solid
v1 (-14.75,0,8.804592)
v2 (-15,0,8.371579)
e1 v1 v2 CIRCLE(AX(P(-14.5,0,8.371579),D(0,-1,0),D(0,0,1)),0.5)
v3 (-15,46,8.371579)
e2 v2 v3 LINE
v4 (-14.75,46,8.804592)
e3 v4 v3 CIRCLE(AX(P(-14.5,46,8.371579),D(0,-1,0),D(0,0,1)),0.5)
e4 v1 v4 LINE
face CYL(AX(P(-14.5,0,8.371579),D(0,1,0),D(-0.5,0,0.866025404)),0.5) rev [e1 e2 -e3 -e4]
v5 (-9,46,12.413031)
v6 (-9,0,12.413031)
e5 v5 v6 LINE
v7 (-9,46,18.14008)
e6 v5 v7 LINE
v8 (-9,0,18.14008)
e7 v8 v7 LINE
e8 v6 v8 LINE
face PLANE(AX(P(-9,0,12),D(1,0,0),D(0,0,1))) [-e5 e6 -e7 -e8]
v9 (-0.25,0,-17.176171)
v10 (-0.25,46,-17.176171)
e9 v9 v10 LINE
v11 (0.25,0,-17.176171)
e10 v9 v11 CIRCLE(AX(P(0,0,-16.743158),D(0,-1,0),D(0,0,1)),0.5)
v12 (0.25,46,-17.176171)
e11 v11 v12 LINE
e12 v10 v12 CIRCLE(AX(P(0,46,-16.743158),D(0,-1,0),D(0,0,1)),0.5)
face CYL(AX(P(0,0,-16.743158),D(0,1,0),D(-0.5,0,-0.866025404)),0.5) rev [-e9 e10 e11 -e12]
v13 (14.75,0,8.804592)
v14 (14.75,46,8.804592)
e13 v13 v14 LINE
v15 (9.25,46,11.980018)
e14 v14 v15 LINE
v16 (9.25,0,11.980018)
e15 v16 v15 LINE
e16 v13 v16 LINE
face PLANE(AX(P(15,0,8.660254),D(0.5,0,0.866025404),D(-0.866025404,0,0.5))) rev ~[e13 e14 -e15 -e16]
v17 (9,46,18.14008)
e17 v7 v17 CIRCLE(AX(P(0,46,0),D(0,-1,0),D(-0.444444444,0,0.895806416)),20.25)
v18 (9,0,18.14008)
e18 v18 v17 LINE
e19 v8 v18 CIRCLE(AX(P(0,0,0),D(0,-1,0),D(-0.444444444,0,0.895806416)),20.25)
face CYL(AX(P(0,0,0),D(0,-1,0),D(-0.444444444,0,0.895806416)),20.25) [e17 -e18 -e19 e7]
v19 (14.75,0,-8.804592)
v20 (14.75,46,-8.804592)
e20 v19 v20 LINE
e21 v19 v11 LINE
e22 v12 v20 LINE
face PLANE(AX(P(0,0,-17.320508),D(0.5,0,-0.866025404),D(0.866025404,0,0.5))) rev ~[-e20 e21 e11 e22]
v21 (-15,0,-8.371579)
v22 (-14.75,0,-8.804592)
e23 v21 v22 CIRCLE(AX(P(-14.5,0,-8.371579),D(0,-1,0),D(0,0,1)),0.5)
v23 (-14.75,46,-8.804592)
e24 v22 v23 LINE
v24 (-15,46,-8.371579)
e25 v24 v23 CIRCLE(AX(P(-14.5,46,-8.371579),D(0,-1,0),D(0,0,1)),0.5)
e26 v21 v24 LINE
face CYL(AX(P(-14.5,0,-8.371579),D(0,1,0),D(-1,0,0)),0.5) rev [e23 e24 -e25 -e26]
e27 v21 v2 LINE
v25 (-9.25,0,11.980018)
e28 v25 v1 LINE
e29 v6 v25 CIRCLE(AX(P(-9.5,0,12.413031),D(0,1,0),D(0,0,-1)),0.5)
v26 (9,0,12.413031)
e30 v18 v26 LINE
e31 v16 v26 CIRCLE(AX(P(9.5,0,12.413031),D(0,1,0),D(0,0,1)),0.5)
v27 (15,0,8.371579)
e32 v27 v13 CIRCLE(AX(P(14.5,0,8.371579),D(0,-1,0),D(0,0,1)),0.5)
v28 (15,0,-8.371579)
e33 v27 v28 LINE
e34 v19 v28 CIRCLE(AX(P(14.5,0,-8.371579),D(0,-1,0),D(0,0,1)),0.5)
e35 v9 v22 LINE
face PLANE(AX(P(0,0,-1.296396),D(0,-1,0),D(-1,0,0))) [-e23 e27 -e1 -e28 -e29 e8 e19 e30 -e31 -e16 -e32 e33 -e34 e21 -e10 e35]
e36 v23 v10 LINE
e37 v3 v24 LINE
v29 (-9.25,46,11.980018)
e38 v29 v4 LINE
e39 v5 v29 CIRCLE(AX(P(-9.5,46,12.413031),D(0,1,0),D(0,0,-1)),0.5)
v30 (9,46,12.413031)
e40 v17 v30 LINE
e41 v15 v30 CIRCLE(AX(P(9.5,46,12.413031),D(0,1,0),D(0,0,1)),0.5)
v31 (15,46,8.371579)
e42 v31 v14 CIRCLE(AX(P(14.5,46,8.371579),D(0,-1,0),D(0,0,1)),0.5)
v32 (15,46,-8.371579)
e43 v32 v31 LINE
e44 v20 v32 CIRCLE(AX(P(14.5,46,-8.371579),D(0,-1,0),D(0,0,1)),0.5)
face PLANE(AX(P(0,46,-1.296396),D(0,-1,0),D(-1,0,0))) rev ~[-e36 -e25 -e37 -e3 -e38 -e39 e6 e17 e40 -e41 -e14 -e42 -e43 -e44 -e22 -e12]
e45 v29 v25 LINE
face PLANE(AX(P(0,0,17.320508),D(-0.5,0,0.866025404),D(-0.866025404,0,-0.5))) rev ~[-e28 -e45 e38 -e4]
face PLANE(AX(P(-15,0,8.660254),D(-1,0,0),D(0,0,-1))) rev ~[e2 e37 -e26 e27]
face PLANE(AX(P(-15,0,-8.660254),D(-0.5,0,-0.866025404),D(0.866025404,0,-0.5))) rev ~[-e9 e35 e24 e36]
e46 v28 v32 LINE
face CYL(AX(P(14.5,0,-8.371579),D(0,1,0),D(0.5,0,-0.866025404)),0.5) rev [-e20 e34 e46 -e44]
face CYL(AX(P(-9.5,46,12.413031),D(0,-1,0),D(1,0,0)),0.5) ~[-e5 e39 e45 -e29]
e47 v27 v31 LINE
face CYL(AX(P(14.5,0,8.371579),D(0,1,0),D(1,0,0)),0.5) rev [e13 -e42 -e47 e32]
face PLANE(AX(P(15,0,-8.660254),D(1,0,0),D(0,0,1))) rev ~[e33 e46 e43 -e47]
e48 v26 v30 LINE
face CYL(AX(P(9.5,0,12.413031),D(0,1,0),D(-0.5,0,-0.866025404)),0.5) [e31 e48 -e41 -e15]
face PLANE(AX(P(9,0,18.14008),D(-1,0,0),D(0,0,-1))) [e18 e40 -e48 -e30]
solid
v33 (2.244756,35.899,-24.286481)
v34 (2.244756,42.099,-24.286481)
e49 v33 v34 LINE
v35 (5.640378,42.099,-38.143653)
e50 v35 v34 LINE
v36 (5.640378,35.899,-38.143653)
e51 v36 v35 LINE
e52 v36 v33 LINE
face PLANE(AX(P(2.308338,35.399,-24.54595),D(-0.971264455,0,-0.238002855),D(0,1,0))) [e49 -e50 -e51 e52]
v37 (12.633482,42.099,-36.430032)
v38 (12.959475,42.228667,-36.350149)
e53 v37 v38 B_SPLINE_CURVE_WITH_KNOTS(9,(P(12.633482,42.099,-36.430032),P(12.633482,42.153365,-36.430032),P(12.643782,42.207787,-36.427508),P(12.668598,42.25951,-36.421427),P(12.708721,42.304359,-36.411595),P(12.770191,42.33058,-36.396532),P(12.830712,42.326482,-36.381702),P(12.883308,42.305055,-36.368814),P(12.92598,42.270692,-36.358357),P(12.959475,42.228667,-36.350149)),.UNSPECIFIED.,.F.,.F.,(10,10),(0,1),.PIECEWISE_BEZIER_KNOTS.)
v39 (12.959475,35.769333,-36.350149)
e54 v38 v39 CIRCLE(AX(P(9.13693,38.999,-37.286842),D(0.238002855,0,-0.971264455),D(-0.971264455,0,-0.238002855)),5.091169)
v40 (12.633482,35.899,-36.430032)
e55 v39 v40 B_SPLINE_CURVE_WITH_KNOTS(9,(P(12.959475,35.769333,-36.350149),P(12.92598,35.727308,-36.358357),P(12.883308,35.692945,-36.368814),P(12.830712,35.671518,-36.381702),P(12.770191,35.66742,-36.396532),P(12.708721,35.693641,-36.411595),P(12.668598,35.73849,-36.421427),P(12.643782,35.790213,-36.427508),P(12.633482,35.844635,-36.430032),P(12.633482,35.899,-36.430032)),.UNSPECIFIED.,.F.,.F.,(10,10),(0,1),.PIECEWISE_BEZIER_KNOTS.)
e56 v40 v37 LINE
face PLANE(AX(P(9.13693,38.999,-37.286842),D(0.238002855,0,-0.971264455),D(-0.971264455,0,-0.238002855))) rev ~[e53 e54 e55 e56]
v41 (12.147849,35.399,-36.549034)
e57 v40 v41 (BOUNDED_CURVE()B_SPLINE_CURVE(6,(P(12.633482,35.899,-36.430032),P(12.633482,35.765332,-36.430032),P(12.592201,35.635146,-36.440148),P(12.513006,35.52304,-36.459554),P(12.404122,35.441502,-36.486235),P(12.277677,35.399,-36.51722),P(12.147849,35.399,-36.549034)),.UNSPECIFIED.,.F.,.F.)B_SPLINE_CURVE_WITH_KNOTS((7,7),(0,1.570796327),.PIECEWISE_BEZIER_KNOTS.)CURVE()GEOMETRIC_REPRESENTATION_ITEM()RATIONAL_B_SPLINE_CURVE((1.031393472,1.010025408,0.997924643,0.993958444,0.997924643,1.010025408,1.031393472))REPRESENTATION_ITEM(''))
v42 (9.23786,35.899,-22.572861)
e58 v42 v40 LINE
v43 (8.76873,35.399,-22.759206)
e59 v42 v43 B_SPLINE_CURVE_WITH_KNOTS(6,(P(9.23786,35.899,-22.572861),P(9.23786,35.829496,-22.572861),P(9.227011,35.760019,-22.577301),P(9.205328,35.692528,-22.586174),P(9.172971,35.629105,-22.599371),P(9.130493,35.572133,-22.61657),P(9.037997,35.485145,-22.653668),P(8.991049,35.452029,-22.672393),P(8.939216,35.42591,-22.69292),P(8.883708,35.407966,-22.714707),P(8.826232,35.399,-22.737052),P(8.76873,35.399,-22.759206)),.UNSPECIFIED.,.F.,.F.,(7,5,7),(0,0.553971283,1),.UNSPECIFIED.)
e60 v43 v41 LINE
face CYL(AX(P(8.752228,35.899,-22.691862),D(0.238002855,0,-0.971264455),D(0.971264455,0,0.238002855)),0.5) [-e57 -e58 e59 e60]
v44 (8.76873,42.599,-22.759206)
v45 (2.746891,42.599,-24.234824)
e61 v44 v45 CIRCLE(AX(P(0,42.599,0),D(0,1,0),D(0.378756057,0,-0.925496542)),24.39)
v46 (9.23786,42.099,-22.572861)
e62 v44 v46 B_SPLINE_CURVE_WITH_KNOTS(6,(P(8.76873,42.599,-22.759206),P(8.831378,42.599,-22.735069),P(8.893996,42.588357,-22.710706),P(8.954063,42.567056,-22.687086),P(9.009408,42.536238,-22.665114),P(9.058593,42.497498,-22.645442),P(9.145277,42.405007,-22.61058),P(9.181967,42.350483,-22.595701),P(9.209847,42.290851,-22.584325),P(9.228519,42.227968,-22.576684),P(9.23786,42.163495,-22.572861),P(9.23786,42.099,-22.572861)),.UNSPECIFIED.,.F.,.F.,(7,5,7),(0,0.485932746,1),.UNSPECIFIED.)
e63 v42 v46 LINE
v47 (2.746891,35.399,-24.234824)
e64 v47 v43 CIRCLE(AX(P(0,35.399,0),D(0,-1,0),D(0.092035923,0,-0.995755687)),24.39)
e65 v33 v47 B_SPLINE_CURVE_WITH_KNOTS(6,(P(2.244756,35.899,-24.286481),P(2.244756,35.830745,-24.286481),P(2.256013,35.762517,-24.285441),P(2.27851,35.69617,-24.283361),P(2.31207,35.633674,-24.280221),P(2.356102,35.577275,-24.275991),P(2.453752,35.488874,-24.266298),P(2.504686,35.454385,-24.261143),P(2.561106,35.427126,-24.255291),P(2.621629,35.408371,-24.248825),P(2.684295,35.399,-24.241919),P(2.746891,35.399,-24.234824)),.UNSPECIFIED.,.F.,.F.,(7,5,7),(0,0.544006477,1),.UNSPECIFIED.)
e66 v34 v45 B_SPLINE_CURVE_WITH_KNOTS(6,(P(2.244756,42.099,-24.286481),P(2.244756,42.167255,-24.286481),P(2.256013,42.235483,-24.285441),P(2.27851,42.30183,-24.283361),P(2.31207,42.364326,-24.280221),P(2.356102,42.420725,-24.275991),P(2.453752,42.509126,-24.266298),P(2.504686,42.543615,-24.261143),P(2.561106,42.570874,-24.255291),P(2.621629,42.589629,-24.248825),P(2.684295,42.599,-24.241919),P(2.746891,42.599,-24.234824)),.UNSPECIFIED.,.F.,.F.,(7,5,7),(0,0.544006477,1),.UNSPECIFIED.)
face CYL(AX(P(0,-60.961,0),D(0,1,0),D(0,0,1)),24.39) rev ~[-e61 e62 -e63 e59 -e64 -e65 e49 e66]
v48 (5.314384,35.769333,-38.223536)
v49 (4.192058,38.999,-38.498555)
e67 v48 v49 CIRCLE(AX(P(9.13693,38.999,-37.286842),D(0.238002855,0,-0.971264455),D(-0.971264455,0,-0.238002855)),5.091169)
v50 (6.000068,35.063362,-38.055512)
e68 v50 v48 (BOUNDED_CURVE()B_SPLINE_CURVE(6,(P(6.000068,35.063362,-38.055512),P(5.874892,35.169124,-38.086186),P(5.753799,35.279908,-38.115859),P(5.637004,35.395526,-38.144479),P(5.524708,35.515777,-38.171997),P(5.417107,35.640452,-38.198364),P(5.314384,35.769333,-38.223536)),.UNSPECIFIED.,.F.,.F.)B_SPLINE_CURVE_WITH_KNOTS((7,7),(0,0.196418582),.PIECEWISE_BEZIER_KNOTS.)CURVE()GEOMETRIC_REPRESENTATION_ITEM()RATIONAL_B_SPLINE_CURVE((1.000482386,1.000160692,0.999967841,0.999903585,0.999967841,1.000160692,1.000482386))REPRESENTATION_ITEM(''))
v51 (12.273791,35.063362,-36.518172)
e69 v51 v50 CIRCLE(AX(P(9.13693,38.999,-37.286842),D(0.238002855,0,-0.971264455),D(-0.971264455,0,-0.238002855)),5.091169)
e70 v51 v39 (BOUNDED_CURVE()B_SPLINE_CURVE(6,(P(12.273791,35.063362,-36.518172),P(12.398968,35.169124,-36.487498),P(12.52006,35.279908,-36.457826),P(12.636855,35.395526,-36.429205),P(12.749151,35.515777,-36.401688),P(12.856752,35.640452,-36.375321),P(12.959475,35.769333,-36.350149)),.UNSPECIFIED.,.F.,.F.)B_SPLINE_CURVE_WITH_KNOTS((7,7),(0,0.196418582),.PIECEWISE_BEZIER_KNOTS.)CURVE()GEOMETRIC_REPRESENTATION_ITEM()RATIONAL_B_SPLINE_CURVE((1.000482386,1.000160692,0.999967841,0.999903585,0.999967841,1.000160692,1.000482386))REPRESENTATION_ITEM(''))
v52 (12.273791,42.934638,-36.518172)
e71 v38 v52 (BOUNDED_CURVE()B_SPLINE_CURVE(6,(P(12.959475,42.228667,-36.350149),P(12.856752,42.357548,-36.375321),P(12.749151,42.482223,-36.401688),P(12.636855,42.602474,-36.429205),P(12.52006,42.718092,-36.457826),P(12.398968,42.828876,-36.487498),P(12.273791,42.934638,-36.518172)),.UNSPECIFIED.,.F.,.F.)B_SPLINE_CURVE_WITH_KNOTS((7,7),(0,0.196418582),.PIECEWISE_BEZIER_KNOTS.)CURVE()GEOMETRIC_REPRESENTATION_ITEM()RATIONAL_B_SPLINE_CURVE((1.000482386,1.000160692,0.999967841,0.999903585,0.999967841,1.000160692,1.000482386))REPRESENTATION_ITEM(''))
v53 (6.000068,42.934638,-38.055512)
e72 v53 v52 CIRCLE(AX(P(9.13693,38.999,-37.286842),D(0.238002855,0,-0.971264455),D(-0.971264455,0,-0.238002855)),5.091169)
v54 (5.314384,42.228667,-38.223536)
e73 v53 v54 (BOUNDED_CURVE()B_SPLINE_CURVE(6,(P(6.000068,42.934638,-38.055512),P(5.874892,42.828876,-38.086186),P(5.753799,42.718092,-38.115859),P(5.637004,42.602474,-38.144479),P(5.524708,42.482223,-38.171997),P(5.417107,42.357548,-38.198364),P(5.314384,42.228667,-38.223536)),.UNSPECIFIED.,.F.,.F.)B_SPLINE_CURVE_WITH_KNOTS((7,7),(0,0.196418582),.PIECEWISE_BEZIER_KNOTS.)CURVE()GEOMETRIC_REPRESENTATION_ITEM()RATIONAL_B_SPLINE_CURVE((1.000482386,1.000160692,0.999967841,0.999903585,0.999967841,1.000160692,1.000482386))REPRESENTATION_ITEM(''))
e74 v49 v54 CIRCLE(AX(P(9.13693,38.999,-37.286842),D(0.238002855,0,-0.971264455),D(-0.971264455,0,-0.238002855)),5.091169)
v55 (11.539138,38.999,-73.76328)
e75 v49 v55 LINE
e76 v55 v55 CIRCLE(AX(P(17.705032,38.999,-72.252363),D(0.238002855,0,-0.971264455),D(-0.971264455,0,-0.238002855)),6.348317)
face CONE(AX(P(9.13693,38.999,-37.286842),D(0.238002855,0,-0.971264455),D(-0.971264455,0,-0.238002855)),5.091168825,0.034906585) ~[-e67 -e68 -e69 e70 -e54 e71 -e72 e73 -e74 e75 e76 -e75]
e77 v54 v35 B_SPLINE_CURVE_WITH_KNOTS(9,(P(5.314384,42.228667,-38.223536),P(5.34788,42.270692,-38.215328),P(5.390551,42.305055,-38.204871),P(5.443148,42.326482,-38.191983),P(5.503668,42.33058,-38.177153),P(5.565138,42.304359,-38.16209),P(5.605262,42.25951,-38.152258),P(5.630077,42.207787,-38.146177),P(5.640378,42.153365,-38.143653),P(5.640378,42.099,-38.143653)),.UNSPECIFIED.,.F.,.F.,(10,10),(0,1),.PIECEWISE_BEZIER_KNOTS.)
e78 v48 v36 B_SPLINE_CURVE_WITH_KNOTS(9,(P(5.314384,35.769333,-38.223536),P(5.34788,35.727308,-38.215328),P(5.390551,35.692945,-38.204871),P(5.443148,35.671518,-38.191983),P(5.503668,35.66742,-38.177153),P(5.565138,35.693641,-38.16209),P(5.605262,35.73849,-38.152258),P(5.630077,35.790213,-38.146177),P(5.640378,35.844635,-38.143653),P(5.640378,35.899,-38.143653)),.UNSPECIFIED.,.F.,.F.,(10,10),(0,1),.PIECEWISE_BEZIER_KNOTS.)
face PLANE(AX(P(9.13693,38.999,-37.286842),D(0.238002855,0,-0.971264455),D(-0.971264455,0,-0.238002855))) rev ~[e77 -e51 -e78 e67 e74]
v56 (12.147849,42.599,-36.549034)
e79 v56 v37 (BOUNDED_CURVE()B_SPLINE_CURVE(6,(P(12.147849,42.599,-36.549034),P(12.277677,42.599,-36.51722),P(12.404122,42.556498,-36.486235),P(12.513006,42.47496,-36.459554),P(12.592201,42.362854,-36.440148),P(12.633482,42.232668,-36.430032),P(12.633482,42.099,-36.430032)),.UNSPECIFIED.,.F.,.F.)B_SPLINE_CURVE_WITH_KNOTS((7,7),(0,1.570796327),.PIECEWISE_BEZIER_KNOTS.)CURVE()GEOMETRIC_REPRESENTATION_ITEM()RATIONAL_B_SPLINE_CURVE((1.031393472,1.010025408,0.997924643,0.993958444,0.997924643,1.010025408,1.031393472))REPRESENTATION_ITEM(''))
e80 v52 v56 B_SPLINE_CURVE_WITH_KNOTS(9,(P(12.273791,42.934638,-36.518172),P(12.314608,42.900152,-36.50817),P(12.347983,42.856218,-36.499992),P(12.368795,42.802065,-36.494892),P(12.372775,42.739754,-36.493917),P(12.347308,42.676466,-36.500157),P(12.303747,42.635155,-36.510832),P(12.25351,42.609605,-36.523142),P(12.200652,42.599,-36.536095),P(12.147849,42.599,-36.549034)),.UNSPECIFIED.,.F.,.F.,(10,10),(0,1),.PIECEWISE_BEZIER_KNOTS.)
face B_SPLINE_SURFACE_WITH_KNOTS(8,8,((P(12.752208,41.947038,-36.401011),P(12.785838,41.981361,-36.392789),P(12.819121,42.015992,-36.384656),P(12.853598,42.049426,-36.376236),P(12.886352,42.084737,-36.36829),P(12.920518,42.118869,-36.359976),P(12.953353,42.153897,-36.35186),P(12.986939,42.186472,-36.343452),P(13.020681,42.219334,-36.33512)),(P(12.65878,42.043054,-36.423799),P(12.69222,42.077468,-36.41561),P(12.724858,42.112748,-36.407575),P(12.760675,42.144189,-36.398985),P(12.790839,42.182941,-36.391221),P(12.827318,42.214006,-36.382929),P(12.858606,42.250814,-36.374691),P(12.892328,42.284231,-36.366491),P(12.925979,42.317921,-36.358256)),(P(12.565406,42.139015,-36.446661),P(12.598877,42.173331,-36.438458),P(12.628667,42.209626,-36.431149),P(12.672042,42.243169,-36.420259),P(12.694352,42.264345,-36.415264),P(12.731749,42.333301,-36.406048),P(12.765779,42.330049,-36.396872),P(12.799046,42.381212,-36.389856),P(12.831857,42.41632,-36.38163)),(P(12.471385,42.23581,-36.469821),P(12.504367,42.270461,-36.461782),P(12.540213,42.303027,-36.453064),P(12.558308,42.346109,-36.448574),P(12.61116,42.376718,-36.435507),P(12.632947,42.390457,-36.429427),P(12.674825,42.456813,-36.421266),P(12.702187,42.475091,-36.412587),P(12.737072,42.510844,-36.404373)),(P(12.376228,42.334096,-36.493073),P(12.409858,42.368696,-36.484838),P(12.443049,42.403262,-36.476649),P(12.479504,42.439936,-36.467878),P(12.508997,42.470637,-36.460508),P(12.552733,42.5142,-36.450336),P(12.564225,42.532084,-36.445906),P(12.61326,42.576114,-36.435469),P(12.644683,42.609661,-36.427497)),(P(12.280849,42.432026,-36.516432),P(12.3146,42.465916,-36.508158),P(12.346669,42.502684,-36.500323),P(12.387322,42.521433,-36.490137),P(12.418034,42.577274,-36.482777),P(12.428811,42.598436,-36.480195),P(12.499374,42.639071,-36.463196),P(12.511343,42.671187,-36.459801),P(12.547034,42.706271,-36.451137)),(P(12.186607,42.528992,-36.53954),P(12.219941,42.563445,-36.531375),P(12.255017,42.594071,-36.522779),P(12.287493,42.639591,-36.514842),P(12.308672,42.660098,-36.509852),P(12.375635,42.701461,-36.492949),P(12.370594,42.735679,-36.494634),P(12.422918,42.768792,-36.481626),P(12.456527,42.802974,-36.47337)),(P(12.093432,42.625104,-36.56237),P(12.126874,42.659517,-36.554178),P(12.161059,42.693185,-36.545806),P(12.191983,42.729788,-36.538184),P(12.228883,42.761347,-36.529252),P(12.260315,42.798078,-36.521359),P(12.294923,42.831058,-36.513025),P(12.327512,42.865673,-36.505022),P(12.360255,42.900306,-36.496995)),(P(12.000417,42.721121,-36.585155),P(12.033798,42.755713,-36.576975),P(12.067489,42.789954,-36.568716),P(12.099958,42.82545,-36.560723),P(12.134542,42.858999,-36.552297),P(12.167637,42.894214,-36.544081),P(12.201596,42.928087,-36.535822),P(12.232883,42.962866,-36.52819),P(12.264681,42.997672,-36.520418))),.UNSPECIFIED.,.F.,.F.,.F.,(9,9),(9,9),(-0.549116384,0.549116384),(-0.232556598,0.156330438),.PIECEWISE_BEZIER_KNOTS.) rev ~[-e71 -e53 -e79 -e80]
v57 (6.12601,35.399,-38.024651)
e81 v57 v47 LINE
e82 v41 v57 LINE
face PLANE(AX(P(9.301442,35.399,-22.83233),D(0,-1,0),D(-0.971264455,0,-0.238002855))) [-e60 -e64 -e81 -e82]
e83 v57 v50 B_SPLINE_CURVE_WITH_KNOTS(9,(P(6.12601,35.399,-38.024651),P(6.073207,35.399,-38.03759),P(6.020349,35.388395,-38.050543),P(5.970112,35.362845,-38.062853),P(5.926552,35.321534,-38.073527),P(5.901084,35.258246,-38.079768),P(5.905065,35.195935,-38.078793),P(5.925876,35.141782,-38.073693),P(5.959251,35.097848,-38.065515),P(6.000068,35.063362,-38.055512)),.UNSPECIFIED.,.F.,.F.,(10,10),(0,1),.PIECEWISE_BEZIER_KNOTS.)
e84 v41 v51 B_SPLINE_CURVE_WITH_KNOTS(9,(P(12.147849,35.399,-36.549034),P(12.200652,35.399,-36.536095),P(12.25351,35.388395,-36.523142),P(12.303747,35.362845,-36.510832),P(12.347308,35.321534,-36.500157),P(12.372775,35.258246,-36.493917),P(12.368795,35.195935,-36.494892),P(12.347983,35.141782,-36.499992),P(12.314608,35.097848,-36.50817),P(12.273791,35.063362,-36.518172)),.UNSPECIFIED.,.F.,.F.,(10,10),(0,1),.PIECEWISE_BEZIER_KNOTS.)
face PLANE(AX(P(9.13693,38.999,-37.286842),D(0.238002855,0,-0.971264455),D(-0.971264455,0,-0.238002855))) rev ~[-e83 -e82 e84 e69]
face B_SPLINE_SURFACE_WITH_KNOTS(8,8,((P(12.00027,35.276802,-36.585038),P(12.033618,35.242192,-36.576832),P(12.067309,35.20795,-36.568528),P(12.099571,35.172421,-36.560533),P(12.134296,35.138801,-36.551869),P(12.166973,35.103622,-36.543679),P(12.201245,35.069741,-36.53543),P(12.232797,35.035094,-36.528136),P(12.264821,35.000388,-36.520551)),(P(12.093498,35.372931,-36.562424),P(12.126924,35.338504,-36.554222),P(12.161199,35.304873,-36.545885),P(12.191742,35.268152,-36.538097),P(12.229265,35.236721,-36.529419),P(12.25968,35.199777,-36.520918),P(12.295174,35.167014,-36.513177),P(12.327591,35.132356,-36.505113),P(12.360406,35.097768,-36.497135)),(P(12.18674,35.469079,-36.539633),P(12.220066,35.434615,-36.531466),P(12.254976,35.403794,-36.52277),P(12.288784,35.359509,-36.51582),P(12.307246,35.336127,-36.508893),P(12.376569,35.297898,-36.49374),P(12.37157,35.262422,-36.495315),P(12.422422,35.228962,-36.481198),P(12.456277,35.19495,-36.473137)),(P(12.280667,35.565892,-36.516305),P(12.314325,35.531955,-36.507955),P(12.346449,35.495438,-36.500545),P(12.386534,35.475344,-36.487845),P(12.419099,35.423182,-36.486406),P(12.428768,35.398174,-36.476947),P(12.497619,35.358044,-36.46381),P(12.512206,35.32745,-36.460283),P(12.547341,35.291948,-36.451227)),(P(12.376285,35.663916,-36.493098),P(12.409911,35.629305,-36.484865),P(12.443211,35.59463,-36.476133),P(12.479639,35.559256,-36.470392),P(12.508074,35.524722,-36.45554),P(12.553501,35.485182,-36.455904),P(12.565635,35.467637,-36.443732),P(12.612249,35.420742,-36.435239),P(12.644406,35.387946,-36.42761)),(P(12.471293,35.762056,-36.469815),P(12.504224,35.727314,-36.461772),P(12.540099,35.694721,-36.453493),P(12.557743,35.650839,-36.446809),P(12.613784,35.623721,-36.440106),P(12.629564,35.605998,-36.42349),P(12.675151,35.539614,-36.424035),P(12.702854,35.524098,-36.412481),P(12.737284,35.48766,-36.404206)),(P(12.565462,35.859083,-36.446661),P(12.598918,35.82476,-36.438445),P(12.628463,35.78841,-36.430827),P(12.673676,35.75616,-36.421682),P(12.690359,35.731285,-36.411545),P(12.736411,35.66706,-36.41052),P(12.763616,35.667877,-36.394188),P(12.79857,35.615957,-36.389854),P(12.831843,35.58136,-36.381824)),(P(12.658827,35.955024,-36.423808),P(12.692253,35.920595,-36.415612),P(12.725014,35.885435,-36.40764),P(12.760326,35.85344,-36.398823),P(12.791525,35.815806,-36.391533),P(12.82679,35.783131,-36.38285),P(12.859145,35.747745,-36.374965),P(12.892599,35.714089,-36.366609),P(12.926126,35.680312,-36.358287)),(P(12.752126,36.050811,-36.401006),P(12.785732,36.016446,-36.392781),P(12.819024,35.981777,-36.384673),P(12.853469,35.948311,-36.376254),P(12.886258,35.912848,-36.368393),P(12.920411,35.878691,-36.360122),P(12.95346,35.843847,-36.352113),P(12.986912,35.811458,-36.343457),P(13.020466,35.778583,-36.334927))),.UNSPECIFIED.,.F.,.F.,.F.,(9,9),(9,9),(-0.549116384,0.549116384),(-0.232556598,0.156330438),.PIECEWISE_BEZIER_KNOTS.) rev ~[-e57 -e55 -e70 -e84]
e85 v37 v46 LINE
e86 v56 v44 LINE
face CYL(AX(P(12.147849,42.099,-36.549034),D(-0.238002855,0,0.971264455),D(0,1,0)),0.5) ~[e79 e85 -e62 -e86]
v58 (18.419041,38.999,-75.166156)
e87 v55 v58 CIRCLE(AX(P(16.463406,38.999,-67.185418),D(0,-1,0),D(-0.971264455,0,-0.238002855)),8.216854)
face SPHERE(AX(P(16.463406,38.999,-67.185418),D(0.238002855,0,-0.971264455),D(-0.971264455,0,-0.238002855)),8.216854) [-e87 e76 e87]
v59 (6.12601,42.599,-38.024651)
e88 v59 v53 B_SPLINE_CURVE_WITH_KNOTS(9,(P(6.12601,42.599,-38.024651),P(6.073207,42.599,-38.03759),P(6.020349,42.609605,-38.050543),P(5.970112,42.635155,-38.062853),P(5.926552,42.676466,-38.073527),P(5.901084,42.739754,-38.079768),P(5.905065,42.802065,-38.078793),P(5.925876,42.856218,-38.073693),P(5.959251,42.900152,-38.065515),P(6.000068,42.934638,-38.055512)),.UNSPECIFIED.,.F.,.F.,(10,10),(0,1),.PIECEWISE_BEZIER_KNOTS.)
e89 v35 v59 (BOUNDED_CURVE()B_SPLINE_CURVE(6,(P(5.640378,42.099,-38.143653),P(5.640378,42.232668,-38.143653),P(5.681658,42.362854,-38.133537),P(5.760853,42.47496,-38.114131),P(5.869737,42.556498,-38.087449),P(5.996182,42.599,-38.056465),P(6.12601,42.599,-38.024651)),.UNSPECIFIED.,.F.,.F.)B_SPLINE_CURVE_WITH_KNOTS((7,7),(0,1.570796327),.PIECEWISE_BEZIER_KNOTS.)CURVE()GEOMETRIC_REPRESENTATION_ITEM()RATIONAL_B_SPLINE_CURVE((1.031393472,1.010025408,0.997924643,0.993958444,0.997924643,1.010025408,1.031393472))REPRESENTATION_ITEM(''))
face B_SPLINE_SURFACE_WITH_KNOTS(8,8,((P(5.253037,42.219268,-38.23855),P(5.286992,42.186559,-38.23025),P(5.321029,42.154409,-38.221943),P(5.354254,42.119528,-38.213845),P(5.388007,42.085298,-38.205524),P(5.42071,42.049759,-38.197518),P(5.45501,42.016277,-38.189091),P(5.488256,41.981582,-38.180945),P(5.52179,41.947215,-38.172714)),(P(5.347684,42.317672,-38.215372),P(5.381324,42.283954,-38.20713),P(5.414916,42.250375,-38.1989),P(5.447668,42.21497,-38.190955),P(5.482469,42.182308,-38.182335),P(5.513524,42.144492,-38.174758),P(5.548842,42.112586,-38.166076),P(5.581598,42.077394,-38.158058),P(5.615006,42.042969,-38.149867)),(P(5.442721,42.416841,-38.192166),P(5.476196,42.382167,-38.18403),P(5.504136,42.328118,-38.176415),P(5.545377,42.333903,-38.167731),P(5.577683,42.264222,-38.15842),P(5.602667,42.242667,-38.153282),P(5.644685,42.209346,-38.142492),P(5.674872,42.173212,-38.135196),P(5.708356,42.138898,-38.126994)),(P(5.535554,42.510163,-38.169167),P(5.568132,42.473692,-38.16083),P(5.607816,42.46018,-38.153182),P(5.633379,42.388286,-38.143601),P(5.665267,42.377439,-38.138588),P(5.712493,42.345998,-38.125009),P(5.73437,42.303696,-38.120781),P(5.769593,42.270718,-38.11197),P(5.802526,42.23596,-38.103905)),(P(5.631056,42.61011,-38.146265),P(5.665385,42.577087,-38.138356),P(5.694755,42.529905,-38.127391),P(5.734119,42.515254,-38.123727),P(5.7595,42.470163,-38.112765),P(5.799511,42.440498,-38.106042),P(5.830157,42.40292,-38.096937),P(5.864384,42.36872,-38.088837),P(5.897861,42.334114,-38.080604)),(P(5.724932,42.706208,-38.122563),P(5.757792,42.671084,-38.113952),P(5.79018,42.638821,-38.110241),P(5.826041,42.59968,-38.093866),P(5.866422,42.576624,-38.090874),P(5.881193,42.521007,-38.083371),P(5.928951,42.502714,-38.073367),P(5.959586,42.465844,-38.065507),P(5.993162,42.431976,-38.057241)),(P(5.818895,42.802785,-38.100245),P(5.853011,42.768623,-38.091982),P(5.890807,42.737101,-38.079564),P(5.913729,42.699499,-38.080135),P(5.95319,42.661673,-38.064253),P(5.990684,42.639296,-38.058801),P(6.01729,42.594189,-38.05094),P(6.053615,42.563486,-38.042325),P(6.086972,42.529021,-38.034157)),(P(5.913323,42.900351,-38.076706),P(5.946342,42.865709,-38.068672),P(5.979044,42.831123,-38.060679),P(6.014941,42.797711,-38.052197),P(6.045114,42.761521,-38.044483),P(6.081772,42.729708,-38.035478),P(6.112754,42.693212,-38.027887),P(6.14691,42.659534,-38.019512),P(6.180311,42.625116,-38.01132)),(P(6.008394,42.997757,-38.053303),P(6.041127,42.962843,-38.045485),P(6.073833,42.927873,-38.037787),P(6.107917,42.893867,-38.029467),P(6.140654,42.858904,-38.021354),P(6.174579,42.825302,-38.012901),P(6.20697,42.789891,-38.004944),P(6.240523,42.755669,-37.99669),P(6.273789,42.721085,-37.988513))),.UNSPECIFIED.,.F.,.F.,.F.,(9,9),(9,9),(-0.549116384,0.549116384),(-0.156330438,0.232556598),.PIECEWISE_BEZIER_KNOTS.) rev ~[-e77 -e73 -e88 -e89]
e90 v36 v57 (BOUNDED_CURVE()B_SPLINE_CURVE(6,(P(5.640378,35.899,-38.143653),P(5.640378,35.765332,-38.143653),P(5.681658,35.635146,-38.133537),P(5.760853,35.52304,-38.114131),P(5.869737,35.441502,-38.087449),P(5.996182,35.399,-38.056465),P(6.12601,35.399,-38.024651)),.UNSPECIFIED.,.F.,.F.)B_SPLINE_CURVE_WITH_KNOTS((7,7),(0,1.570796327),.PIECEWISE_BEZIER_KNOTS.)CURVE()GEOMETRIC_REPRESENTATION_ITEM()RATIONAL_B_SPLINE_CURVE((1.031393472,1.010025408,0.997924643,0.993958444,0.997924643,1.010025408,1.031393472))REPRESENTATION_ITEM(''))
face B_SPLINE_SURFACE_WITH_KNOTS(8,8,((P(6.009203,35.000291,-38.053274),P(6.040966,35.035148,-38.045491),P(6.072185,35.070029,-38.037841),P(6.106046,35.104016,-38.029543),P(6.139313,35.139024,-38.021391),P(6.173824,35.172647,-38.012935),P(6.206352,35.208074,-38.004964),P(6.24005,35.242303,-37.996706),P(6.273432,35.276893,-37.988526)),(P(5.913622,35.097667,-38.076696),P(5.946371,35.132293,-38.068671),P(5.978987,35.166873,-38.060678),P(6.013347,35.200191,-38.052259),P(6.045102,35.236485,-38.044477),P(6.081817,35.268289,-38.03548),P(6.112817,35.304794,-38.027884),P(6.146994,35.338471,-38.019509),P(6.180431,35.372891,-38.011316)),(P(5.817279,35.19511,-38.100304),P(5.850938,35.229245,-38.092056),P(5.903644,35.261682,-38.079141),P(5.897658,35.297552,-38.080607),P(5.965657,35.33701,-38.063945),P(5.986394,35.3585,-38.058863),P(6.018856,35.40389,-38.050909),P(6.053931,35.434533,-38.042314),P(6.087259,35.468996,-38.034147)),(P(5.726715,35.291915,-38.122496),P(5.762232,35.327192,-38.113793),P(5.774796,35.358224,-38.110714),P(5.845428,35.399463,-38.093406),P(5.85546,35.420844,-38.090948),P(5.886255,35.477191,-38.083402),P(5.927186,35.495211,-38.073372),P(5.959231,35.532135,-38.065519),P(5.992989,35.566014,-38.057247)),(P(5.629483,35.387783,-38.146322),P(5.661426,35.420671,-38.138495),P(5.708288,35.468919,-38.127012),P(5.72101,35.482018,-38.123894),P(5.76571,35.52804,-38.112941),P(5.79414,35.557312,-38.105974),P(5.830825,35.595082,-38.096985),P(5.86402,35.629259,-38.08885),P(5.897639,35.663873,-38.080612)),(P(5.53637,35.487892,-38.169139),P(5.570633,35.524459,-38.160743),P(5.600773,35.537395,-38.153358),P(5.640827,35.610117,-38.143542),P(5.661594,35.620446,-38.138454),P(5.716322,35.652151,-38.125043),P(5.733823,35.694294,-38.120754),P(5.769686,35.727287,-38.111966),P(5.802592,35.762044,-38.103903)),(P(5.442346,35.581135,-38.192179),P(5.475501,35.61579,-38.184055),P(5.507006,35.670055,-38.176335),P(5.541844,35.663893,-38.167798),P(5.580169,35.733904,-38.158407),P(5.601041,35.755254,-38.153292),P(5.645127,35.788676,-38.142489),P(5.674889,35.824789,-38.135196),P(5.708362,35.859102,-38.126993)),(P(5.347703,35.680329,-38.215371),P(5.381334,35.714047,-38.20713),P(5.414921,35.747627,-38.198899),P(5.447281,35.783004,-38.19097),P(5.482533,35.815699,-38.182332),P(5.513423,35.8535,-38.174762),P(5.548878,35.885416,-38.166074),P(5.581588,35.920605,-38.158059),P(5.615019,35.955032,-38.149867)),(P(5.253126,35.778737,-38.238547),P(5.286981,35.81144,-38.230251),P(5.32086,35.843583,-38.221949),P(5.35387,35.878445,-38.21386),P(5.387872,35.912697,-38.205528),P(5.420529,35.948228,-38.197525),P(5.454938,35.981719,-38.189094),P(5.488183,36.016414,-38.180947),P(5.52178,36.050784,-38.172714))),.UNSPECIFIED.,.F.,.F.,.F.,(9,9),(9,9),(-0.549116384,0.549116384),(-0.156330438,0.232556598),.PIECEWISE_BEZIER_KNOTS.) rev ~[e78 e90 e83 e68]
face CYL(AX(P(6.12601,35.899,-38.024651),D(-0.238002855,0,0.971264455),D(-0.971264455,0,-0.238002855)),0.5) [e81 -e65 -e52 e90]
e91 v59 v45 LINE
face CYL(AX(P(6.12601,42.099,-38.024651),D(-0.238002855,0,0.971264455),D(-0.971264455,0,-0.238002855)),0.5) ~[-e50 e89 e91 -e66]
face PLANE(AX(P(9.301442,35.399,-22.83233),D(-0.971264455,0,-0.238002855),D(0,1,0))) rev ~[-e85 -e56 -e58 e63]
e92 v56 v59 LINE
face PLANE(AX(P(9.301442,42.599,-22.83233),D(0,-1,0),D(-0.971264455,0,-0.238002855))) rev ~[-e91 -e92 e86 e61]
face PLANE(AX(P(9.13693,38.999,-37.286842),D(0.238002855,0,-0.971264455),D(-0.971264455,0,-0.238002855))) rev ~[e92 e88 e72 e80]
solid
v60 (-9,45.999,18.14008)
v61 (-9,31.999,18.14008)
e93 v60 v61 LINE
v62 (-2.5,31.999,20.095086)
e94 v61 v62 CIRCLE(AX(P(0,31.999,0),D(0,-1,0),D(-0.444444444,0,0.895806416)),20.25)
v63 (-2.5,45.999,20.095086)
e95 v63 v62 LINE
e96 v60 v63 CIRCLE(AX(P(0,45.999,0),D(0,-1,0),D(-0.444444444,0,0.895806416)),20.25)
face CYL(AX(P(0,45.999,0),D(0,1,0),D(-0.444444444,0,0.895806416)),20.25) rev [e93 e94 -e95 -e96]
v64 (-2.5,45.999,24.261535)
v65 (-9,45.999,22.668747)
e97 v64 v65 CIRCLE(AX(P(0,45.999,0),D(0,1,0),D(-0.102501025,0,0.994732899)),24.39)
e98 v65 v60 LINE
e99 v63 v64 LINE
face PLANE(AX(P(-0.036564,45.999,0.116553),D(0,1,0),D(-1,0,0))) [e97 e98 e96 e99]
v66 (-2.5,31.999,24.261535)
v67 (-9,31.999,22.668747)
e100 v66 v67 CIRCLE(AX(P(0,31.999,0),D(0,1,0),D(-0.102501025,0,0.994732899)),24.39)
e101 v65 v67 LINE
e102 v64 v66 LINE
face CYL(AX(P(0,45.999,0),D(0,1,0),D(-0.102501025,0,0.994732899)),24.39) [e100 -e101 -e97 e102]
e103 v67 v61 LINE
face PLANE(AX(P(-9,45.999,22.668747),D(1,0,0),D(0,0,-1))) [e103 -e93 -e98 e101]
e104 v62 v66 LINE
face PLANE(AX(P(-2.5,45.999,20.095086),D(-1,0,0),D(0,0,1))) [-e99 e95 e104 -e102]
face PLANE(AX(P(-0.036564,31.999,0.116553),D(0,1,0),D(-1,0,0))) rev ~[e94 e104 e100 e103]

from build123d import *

# Parameters (mm, degrees)
EXTRUDE3_DEPTH                  = 46
EXTRUDE4_DEPTH                  = 14
SKETCH22_W                      = 7.200000000000002
SKETCH22_H                      = 7.199999999999999
EXTRUDE5_DEPTH                  = 14
EXTRUDE5_DIRECTION_2_REACH      = 75.07
EXTRUDE5_DIRECTION_2_END_RADIUS = 24.39
SKETCH23_R                      = 5.091168824543142
EXTRUDE6_DEPTH                  = 36
EXTRUDE6_DRAFT                  = -2.0000000000000044
DOME1_FACE_RADIUS               = 6.348316526
DOME1_HEIGHT                    = 3
CUT_EXTRUDE7_DEPTH              = 92.63173419897609
FILLET2_R                       = 0.5
FILLET3_R                       = 0.5


with BuildPart() as part:
    # Sketch20 → Extrude3 (new body)
    with BuildSketch(Plane(origin=(0, 0, 0), x_dir=(1, 0, 0), z_dir=(0, 1, 0))):
        with BuildLine():
            Line((-9, -12), (-8.999999999999998, -18.14007993367174))
            ThreePointArc((-8.999999999999998, -18.14007993367174), (5.74e-15, 20.25), (8.999999999999998, -18.14007993367174))
            Line((8.999999999999998, -18.14007993367174), (9, -12))
            ThreePointArc((9, -12), (9.2e-16, 15), (-9, -12))
        make_face()
    extrude(amount=EXTRUDE3_DEPTH)

    # Sketch24 → Cut-Extrude7 (cut, through all)
    with BuildSketch(Plane.XZ):
        Polygon((-15, 8.660254037844384), (-15.000000000000002, -8.660254037844384), (-1.98e-15, -17.32050807568877), (15, -8.660254037844378), (15, 8.660254037844389), (1.7e-15, 17.320508075688775), align=None)
    extrude(amount=-CUT_EXTRUDE7_DEPTH, mode=Mode.SUBTRACT)

    # Fillet3
    fillet3_edges = [part.edges().sort_by_distance(p)[0] for p in [
        (-9, 23, 12.124355652982139),
        (-15, 23, 8.660254037844384),
        (9, 23, 12.124355652982143),
        (15, 23, 8.660254037844389),
        (15, 23, -8.660254037844378),
        (-1.98e-15, 23, -17.32050807568877),
        (-15.000000000000002, 23, -8.660254037844384),
    ]]
    fillet(fillet3_edges, radius=FILLET3_R)


with BuildPart() as body_2:
    # Sketch21 → Extrude4 (new body)
    with BuildSketch(Plane(origin=(0, 45.998999999999995, 0), x_dir=(-1, 0, 0), z_dir=(0, 1, 0))):
        with BuildLine():
            Line((2.5, 20.095086464108586), (2.5, 24.261535400711967))
            ThreePointArc((2.5, 24.261535400711967), (-5.804889624821732, -23.689140052852004), (8.999999999999996, 22.668747208436557))
            Line((8.999999999999996, 22.668747208436557), (8.999999999999996, 18.14007993367174))
            ThreePointArc((8.999999999999996, 18.14007993367174), (-5.8324962609086, -19.39186652611056), (2.5, 20.095086464108586))
        make_face()
    extrude(amount=-EXTRUDE4_DEPTH)


with BuildPart() as body_3:
    # Sketch22 → Extrude5 (new body)
    with BuildSketch(Plane(origin=(5.8048896248217305, 45.998999999999995, -23.689140052852004), x_dir=(-0.9712644548114803, 0, -0.23800285464623744), z_dir=(0.23800285464623744, 0, -0.9712644548114803))):
        with Locations((0, -7)):
            Rectangle(SKETCH22_W, SKETCH22_H)
    extrude(amount=EXTRUDE5_DEPTH)

    # Extrude5 direction 2: up to this cylinder (the profile starts outside it)
    extrude5_direction_2_end = Plane(origin=(0, 38.999, 0), z_dir=(0, 1, 0)) * Cylinder(EXTRUDE5_DIRECTION_2_END_RADIUS, 199.92, mode=Mode.PRIVATE)
    # Sketch22 → Extrude5 direction 2 (add, up to the surface)
    with BuildSketch(Plane(origin=(5.8048896248217305, 45.998999999999995, -23.689140052852004), x_dir=(-0.9712644548114803, 0, -0.23800285464623744), z_dir=(0.23800285464623744, 0, -0.9712644548114803)), mode=Mode.PRIVATE) as extrude5_direction_2_sk1:
        with Locations((0, -7)):
            Rectangle(SKETCH22_W, SKETCH22_H)
    extrude5_direction_2_tool1 = extrude(extrude5_direction_2_sk1.sketch, amount=-EXTRUDE5_DIRECTION_2_REACH, mode=Mode.PRIVATE) - extrude5_direction_2_end
    add(extrude5_direction_2_tool1.solids().sort_by_distance((5.80489, 38.999, -23.68914))[0])
    add(extrude5_direction_2_tool1.solids().sort_by_distance((5.80489, 38.999, -23.68914))[1])


with BuildPart() as extrude6_tool:
    # Sketch23 → Extrude6 (with draft: the straight prism first)
    with BuildSketch(Plane(origin=(9.136929589869046, 0, -37.28684242021275), x_dir=(-0.9712644548114804, -1.6827536930173812e-15, -0.2380028546462371), z_dir=(0.2380028546462371, 0, -0.9712644548114804))):
        with Locations((0, 38.998999999999924)):
            Circle(SKETCH23_R)
    extrude(amount=EXTRUDE6_DEPTH)
    # Extrude6: the draft: its side faces are tilted about the plane it starts from
    extrude6_sides = [extrude6_tool.faces().sort_by_distance(p)[0] for p in [
        (18.365852286, 38.999, -53.557889893),
    ]]
    draft(extrude6_sides, Plane(origin=(9.136929589869046, 0, -37.28684242021275), x_dir=(-0.9712644548114804, -1.6827536930173812e-15, -0.2380028546462371), z_dir=(0.2380028546462371, 0, -0.9712644548114804)), EXTRUDE6_DRAFT)


with BuildPart() as body_3_1:
    add(body_3.part)

    # Extrude6: add extrude6_tool
    add(extrude6_tool.part)

    # Dome1: a dome of height H over a round flat face of radius A is a cap of a sphere of radius (A * A + H * H) / (2 * H)
    dome1_r = (DOME1_FACE_RADIUS * DOME1_FACE_RADIUS + DOME1_HEIGHT * DOME1_HEIGHT) / (2 * DOME1_HEIGHT)
    dome1_base = Plane((17.705032357, 38.999, -72.252362793), z_dir=(0.238002854646, 0, -0.971264454811))
    with Locations(dome1_base.offset(DOME1_HEIGHT - dome1_r)):
        dome1_ball = Sphere(dome1_r, mode=Mode.PRIVATE)
    add(split(dome1_ball, bisect_by=dome1_base, keep=Keep.TOP, mode=Mode.PRIVATE))

    # Fillet2
    fillet2_edges = [body_3_1.edges().sort_by_distance(p)[0] for p in [
        (10.935670926101846, 42.599, -29.501446402710464),
        (3.942566851459185, 42.599, -31.215066956163376),
        (3.9425668514591843, 35.398999999999994, -31.215066956163376),
        (10.935670926101844, 35.398999999999994, -29.501446402710464),
    ]]
    fillet(fillet2_edges, radius=FILLET2_R)


solid = Compound([part.part, body_2.part, body_3_1.part])
